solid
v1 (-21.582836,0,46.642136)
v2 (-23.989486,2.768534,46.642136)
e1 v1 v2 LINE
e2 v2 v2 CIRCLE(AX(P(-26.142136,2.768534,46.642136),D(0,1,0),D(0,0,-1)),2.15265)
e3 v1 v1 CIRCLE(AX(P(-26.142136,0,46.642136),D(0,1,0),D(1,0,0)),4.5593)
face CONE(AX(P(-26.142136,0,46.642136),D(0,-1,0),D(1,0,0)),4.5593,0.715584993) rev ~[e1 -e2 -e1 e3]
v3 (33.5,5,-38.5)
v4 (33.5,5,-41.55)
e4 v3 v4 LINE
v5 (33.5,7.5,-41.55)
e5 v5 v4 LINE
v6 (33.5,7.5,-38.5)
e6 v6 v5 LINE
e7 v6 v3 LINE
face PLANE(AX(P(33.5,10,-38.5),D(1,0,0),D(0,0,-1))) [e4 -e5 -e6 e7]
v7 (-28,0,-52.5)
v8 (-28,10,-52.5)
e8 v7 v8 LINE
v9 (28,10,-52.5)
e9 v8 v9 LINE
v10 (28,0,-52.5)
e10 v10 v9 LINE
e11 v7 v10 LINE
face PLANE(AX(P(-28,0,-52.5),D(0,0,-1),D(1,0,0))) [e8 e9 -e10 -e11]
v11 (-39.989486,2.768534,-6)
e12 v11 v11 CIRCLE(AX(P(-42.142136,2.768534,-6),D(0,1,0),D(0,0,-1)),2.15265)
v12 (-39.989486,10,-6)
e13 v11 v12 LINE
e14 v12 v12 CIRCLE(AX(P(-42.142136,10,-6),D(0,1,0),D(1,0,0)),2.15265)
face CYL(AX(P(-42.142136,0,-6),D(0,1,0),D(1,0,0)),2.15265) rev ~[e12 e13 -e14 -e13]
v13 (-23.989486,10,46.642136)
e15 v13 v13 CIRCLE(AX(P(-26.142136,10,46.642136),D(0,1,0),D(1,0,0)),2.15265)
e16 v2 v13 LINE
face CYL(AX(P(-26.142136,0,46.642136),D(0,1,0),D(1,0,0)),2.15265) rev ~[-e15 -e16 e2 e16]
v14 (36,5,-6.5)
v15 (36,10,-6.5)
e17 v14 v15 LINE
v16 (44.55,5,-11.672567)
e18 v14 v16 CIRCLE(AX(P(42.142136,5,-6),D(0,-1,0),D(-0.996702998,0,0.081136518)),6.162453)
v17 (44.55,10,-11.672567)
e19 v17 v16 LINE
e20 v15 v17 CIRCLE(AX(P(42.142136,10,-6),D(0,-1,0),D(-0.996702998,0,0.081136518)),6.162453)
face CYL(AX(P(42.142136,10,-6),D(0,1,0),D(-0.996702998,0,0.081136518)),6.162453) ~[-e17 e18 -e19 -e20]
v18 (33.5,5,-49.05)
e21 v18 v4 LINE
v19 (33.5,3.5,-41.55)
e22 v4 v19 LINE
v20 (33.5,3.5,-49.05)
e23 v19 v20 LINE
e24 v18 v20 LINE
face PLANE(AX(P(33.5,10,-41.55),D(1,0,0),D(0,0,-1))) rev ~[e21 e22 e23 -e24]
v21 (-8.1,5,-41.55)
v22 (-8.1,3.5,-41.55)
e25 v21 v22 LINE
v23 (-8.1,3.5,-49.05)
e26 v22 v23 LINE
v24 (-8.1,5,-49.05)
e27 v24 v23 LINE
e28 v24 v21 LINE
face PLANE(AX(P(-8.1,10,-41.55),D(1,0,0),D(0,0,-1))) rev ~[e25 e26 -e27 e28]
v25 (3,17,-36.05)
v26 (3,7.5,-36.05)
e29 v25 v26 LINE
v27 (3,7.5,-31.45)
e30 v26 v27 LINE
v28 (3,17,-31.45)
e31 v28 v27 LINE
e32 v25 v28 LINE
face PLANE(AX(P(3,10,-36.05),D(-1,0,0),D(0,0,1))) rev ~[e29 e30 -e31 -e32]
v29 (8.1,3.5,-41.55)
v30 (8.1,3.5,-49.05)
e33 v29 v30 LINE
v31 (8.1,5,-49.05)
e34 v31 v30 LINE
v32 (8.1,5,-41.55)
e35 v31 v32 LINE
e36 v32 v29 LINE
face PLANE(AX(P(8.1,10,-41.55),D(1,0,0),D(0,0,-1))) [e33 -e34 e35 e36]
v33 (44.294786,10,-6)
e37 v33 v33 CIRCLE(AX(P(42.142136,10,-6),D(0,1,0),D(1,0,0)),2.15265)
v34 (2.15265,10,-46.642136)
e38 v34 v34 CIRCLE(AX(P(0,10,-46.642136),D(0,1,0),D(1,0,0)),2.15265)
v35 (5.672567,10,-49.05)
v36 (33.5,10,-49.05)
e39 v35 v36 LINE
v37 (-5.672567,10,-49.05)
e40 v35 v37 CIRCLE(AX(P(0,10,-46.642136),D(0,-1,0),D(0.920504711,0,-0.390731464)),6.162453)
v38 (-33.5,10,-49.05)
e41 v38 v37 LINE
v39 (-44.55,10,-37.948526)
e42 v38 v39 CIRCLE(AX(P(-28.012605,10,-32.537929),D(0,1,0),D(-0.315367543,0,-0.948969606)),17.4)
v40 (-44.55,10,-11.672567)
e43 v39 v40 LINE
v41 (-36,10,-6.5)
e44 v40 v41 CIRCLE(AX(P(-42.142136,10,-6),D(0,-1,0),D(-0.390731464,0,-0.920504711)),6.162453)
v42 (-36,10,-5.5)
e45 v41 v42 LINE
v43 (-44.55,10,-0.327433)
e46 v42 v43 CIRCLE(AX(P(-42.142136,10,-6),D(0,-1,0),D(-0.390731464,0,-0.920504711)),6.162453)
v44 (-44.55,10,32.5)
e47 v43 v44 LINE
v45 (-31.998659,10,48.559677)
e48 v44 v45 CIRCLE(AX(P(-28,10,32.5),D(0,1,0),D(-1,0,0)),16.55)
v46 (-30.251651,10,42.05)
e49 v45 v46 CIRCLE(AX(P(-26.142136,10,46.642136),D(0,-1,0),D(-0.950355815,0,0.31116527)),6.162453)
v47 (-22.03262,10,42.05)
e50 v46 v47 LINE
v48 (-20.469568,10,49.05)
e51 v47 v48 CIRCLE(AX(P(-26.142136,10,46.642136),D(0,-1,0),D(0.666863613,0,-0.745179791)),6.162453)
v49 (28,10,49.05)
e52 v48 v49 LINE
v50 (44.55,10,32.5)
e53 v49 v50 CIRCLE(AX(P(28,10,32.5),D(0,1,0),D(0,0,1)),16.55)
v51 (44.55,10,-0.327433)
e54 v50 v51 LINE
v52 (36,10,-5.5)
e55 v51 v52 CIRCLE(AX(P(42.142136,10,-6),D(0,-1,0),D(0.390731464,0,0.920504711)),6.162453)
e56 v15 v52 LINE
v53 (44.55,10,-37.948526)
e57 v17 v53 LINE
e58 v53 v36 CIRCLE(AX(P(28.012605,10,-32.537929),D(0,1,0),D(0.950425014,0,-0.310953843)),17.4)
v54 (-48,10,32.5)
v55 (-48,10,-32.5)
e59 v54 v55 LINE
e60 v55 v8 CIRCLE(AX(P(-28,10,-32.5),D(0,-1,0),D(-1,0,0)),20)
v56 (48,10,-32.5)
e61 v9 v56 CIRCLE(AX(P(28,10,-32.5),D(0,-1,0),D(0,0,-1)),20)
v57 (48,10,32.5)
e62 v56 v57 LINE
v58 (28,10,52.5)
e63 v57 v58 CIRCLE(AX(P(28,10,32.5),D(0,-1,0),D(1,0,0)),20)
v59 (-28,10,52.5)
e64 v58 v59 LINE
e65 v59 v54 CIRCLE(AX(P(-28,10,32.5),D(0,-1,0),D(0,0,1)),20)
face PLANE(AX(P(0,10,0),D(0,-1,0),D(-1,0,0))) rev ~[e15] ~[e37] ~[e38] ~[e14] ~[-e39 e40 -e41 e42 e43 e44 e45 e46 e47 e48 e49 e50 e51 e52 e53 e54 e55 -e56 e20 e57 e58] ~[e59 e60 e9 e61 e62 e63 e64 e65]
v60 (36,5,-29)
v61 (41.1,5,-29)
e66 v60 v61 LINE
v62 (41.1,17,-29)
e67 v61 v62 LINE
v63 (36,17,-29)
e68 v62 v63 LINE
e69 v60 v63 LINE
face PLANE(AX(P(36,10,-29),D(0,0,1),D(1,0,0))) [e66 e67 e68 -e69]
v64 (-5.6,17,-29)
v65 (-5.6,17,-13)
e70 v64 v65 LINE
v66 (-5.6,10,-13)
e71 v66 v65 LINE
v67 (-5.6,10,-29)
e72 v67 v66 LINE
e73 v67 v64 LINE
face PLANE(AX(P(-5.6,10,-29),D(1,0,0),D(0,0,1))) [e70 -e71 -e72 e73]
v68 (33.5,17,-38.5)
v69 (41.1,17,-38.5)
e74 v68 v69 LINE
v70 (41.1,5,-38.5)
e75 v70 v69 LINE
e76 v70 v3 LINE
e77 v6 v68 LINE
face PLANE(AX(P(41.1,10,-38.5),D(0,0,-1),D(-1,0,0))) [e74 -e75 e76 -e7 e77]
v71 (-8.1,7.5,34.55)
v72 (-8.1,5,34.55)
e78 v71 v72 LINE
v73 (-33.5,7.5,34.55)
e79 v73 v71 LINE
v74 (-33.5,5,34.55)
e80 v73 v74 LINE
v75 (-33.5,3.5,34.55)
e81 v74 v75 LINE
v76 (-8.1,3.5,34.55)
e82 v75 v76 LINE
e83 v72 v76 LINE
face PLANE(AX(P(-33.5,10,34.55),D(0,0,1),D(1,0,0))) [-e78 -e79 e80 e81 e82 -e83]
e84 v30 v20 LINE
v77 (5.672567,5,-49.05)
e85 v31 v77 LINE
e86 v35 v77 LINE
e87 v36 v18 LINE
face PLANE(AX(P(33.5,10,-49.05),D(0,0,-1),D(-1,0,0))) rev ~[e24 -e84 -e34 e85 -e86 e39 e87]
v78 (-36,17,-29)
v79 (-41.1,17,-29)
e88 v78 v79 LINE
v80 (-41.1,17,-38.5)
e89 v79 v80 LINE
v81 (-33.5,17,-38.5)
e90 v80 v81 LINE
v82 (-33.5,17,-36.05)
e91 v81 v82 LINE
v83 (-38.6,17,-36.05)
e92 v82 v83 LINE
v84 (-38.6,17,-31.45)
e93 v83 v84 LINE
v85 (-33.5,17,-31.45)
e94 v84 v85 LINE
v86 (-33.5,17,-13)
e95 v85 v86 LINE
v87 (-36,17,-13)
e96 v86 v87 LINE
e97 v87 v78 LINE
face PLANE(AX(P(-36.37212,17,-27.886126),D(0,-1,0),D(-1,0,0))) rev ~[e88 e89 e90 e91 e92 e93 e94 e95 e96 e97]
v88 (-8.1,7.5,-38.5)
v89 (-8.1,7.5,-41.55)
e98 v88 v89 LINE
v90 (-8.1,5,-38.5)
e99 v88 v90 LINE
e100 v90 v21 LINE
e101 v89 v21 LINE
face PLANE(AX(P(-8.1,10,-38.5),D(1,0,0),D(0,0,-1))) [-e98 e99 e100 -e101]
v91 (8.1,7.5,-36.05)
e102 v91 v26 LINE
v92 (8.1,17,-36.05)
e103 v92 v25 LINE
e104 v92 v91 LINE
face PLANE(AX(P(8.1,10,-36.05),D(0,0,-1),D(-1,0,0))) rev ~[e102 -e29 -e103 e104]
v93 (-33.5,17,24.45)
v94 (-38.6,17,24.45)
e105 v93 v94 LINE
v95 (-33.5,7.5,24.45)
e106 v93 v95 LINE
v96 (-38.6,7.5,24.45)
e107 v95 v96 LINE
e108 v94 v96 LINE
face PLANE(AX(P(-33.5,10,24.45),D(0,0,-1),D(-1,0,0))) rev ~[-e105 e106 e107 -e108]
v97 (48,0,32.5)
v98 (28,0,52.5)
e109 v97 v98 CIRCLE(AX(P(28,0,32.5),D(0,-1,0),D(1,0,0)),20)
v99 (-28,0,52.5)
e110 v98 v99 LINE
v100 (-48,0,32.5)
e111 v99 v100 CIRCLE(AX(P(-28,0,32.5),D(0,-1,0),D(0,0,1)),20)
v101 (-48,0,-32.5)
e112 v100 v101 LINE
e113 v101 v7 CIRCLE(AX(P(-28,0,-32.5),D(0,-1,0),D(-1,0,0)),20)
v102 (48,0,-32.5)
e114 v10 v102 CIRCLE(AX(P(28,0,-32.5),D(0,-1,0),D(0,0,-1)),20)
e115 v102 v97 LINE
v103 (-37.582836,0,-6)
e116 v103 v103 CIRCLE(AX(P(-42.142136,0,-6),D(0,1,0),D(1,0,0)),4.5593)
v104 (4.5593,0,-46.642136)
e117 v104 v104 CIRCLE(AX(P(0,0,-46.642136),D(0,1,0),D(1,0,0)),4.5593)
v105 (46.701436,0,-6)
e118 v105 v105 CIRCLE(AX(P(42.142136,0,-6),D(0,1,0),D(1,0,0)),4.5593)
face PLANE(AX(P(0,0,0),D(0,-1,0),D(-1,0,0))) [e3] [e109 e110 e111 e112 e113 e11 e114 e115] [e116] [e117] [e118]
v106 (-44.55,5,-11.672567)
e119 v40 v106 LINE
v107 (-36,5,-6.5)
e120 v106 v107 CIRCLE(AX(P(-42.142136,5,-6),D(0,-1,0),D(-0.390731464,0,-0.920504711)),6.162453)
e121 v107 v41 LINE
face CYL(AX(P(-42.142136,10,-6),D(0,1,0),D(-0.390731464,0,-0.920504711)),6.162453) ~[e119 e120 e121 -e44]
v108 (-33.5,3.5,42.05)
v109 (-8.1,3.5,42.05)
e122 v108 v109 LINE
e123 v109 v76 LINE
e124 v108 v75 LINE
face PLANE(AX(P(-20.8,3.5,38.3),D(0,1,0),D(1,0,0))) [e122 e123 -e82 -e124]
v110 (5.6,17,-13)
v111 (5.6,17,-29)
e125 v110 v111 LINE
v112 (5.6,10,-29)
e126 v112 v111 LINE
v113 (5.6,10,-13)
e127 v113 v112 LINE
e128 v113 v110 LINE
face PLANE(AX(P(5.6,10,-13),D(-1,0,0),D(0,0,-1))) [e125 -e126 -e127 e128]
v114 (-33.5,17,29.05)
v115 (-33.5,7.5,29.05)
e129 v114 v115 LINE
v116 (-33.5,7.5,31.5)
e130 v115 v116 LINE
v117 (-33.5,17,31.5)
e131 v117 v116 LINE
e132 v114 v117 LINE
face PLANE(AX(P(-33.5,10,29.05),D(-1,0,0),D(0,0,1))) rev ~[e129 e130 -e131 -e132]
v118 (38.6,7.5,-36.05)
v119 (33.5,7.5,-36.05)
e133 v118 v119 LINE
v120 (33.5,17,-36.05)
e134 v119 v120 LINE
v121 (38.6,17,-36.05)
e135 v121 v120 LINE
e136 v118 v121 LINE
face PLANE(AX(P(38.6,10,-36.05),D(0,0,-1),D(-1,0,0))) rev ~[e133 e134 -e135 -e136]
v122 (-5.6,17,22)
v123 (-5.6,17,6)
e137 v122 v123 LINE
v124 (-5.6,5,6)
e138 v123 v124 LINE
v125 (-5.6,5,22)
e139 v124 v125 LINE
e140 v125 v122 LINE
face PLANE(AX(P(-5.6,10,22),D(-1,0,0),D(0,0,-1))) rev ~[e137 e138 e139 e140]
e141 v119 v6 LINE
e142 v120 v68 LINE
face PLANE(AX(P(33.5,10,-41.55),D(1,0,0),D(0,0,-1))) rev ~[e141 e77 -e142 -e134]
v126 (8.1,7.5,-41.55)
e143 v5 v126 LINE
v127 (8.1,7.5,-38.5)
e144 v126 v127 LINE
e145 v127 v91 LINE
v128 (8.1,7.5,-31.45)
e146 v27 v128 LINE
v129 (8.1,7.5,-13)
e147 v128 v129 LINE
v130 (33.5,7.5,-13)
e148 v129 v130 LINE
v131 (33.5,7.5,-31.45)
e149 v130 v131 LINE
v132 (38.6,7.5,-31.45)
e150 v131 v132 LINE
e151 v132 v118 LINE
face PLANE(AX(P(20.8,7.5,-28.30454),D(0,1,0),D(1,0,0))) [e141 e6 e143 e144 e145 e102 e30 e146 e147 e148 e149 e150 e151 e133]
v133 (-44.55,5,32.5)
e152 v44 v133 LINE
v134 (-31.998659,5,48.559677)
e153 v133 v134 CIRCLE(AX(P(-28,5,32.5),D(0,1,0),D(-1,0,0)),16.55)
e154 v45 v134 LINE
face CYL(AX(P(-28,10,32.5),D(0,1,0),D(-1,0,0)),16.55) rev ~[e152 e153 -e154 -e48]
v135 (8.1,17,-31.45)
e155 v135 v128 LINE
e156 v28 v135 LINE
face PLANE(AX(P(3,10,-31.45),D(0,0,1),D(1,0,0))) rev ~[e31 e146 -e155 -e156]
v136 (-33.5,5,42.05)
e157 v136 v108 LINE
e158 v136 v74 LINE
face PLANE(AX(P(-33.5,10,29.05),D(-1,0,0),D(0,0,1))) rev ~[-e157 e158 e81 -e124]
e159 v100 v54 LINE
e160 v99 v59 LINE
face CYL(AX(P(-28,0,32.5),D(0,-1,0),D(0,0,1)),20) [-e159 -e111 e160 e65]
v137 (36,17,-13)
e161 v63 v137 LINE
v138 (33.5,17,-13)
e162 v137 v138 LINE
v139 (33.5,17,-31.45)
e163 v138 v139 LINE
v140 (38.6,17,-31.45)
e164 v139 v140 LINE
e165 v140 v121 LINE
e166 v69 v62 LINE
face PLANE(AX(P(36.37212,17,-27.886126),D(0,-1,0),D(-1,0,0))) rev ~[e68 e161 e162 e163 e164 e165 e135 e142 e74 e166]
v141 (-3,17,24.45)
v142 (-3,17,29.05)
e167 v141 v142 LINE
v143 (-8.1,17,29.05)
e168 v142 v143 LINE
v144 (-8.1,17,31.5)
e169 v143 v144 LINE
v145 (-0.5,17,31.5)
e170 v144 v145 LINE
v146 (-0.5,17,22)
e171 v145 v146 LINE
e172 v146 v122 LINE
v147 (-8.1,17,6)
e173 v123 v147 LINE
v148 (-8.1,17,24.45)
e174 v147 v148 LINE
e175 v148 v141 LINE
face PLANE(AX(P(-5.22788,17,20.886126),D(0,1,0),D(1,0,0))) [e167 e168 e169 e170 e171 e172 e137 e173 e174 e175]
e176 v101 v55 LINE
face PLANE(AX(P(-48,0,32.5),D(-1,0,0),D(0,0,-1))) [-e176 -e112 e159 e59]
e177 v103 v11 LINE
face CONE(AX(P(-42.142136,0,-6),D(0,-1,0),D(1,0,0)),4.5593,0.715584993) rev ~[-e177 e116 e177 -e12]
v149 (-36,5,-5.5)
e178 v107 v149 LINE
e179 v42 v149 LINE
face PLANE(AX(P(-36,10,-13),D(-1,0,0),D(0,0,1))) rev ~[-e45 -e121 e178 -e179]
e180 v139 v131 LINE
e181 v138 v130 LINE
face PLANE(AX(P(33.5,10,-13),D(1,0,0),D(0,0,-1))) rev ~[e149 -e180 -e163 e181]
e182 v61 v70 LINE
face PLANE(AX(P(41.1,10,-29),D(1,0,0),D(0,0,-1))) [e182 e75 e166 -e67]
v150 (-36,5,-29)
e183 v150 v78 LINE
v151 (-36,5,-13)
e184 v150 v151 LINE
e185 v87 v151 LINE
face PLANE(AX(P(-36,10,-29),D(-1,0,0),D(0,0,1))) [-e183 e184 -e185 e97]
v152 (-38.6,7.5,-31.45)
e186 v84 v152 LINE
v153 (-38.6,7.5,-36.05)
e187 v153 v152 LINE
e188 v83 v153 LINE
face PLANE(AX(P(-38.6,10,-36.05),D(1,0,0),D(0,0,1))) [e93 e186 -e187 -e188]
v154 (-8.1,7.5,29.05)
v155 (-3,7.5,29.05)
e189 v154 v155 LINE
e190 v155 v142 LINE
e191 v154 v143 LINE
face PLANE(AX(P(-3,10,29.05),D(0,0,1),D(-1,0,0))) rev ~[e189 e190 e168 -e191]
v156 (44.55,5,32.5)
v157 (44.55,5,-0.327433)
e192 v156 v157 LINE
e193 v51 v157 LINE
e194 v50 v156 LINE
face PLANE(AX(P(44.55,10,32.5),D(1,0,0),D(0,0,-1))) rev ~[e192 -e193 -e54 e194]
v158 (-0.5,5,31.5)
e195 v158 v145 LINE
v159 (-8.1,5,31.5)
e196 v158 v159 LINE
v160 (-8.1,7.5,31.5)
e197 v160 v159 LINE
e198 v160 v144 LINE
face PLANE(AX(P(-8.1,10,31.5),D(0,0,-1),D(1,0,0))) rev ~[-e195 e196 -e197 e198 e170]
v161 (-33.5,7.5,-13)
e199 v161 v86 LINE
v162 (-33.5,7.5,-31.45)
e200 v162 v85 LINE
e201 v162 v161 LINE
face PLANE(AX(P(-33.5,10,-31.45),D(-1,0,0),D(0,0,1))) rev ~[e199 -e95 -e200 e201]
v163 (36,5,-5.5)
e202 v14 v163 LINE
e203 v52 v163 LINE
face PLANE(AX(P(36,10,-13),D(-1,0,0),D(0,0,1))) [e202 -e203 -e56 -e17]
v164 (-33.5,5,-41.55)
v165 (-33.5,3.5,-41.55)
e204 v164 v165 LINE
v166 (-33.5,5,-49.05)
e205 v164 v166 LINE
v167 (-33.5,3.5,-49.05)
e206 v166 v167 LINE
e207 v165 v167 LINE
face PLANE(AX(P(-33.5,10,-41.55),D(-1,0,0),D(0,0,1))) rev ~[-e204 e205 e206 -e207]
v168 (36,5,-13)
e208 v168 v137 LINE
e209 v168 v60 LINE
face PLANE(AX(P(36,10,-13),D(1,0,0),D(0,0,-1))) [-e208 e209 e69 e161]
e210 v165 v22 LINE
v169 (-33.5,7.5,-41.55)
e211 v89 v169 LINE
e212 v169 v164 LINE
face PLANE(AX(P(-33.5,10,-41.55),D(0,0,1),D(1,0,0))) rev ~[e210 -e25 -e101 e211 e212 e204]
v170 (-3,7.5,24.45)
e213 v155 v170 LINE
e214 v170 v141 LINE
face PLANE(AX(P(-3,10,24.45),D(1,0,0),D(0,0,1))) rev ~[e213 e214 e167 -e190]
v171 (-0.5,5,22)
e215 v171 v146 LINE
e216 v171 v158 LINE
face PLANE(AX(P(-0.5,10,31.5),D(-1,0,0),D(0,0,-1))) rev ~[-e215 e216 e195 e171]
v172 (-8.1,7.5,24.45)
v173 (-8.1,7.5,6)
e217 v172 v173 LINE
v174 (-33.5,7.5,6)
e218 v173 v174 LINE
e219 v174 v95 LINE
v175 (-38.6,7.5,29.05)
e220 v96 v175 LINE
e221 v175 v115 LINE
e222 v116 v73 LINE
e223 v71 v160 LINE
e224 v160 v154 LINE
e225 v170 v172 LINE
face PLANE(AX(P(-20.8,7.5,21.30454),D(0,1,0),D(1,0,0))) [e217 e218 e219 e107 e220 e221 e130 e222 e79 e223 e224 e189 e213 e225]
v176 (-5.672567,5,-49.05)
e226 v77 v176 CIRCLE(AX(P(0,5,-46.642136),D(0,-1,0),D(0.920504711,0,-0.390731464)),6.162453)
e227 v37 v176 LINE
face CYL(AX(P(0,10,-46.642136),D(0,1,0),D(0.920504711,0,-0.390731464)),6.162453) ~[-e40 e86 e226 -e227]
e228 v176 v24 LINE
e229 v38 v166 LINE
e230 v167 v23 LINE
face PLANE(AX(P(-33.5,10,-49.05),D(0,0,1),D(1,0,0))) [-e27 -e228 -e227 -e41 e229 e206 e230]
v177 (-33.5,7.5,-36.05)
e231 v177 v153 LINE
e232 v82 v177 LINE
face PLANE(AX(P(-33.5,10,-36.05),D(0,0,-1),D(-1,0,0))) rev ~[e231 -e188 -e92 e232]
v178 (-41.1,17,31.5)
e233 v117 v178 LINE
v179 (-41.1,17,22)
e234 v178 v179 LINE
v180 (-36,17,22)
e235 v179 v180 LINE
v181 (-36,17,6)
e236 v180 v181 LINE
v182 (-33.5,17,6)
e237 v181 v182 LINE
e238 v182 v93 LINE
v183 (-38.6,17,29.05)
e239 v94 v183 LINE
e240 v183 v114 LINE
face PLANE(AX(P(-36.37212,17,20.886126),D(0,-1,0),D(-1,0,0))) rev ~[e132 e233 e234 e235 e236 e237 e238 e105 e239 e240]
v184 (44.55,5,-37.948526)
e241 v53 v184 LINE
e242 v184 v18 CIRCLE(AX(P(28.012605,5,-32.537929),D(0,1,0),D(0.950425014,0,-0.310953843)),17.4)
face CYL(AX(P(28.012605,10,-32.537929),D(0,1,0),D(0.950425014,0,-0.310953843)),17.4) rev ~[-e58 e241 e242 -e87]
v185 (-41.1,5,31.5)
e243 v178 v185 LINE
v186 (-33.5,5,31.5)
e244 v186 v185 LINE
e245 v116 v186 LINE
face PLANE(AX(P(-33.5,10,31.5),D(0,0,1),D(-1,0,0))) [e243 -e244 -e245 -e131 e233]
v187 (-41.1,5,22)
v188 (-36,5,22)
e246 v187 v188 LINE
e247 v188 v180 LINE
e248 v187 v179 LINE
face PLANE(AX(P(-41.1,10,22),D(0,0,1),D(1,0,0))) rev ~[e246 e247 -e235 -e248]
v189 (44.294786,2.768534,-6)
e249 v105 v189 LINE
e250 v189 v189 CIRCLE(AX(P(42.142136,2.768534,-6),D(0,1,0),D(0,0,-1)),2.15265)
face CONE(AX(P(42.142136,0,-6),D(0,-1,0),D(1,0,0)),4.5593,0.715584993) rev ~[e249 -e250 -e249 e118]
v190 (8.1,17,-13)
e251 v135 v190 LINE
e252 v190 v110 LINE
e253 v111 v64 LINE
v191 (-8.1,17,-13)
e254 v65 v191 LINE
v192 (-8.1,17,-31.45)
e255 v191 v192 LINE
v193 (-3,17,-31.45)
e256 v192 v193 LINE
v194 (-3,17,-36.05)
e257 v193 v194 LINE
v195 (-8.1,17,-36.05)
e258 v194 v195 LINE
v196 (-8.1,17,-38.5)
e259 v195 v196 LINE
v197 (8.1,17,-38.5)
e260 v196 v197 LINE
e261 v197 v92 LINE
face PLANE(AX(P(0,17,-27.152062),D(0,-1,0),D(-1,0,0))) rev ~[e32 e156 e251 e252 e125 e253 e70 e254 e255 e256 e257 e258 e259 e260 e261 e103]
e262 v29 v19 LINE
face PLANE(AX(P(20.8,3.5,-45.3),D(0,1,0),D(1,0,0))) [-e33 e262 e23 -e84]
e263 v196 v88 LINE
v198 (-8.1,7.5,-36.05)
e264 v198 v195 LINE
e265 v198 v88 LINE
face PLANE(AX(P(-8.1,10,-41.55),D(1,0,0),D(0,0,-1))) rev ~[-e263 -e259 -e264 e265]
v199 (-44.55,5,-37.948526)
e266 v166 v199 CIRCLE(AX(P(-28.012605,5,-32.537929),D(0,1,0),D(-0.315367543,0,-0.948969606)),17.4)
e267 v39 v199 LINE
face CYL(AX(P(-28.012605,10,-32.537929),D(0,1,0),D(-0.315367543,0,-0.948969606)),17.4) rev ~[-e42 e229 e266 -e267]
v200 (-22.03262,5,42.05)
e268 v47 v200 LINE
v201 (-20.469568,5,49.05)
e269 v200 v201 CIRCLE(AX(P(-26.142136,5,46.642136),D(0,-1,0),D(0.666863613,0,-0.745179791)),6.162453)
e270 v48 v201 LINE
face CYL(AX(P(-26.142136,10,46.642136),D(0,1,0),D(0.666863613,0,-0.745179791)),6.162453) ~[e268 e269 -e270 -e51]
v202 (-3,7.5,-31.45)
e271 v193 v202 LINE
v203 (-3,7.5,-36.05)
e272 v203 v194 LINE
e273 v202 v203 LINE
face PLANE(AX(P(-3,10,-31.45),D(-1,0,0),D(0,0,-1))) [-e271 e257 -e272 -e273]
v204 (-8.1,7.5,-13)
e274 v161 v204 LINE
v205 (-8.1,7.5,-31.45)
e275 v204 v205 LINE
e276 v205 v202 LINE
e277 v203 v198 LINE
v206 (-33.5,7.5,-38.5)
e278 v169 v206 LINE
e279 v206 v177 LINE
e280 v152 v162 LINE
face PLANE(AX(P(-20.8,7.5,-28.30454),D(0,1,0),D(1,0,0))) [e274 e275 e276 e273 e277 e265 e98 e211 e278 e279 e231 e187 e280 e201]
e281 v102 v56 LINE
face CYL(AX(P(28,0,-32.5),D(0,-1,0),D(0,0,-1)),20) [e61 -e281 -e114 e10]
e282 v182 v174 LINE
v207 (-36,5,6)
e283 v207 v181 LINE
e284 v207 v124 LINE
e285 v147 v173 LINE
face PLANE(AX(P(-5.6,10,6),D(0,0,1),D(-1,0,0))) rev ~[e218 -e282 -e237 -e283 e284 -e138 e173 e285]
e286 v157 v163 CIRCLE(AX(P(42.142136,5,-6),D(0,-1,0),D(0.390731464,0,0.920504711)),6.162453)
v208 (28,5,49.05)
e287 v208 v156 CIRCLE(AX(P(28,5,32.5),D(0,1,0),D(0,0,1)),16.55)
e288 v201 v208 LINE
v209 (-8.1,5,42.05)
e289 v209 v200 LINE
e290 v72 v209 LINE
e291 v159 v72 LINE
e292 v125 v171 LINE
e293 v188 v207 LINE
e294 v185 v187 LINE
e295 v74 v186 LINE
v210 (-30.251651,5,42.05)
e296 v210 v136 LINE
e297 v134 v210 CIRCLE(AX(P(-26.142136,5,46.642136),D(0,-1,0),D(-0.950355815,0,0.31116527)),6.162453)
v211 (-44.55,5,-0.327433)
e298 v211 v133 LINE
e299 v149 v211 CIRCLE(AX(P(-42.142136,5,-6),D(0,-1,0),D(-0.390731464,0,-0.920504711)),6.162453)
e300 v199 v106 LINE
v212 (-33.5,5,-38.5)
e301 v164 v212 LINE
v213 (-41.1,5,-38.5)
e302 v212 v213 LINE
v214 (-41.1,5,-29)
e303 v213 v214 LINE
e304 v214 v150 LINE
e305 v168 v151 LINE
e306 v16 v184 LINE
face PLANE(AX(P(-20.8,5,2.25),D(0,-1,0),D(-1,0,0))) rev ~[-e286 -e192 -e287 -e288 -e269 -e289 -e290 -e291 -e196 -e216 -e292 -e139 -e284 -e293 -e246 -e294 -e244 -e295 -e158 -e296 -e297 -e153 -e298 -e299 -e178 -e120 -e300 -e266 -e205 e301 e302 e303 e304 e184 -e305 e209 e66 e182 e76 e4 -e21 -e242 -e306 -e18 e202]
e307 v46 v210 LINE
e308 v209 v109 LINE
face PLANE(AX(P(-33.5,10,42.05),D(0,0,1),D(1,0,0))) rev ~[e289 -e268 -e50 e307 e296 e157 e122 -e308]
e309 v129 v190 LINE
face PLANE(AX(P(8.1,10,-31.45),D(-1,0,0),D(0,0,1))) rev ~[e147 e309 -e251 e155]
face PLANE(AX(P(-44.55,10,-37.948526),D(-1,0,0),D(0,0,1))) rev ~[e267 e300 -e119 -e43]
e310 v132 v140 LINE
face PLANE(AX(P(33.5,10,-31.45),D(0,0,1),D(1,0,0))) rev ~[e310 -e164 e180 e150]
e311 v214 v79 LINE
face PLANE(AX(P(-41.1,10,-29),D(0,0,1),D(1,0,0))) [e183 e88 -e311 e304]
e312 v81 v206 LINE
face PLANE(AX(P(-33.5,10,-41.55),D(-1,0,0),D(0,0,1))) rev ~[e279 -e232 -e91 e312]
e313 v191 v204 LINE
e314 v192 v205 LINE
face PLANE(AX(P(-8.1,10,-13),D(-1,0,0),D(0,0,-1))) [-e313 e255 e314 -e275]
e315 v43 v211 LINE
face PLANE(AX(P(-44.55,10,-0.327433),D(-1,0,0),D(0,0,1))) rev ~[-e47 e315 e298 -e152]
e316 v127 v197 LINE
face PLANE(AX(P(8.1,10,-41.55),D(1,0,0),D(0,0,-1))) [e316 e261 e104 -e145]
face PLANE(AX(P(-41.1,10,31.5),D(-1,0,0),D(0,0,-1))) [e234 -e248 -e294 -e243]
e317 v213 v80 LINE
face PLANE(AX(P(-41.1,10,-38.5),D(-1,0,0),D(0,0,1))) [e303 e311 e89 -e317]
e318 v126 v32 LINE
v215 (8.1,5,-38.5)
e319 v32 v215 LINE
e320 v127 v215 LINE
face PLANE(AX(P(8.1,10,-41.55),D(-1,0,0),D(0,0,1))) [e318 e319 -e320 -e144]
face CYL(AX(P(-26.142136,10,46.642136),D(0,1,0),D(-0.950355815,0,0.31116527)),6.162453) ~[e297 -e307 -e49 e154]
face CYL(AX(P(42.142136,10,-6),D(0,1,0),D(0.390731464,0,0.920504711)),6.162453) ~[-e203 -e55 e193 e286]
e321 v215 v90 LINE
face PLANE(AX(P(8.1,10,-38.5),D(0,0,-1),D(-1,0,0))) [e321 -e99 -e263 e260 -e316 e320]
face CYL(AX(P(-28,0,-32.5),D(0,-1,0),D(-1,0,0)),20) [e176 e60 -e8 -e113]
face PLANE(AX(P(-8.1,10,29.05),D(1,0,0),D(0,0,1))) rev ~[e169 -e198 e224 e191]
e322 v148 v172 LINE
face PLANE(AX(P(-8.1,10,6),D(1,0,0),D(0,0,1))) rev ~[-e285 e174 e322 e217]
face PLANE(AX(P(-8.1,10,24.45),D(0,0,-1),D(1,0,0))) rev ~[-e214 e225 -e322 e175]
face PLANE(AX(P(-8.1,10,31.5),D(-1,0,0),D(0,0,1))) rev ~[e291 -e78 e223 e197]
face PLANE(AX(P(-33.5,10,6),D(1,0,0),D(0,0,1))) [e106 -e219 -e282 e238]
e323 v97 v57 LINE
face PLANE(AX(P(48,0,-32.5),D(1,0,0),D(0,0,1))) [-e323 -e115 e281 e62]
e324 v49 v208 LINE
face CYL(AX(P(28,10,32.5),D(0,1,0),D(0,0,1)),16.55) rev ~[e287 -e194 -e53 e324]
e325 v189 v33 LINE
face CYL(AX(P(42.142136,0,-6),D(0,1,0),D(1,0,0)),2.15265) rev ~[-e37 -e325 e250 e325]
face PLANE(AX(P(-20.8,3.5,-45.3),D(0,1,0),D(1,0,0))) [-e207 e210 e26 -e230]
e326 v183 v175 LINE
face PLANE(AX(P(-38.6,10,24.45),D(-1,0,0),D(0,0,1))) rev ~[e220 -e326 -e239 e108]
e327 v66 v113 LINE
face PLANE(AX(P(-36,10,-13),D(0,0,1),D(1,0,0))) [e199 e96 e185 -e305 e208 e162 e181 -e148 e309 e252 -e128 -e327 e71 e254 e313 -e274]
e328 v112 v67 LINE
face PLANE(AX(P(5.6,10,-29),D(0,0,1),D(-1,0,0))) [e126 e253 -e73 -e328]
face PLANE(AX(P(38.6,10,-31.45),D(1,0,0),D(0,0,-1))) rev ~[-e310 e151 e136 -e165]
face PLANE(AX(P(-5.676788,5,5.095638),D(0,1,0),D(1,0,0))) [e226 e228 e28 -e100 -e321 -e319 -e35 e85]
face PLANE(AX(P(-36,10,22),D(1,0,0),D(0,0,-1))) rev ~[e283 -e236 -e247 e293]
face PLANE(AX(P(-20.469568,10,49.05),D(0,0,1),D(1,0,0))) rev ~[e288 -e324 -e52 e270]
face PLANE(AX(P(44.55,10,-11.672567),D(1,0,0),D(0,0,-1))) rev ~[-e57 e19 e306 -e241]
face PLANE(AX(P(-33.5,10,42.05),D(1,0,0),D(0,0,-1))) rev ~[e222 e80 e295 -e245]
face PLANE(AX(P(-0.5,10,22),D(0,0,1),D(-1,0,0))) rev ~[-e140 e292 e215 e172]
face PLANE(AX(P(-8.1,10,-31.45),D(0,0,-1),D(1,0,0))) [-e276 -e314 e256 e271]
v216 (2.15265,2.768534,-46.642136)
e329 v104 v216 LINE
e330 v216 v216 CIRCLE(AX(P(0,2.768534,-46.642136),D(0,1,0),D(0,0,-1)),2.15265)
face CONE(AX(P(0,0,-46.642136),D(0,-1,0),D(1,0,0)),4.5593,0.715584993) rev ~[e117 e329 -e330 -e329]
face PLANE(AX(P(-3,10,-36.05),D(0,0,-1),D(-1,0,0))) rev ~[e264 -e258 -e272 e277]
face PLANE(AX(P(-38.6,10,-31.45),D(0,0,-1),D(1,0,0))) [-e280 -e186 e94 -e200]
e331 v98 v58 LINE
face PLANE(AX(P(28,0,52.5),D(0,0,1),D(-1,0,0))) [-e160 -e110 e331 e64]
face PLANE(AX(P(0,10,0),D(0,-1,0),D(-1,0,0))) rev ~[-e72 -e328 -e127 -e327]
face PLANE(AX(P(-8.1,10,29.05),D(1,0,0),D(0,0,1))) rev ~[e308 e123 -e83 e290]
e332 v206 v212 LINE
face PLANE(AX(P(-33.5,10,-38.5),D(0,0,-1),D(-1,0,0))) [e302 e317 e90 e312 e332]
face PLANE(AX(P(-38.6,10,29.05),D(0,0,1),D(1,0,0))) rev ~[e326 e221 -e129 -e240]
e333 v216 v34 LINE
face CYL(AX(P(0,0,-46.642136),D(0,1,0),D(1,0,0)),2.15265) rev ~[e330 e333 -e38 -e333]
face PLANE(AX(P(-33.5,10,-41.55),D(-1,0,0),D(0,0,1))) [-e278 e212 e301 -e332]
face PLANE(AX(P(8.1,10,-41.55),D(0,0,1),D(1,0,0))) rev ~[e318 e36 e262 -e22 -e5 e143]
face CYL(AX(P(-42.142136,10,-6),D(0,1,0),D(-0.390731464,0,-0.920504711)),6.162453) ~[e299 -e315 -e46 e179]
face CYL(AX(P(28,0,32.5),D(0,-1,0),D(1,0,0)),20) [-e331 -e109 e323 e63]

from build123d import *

# Parameters (mm, degrees)
BASE_DEPTH                                        = 10
HOLE_FOR_ACTUATOR_COVERS_DEPTH                    = 5
SIDE_CLAMPS_DEPTH                                 = 7
SKETCH14_W                                        = 25.4
SKETCH14_H                                        = 7.5
PULLEY_CLEARANCES_DEPTH                           = 6.5
CSK_FOR_8_FLAT_HEAD_SOCKET_CAP_SCREW1_D           = 4.3053
CSK_FOR_8_FLAT_HEAD_SOCKET_CAP_SCREW1_CSINK_D     = 9.1186
CSK_FOR_8_FLAT_HEAD_SOCKET_CAP_SCREW1_CSINK_ANGLE = 82
ACTUATOR_GROOVE_DEPTH                             = 2.5
MATERIAL_CUTAWAY_DEPTH                            = 5


with BuildPart() as part:
    # Sketch1 → base (new body)
    with BuildSketch(Plane(origin=(0, 0, 0), x_dir=(1, 0, 0), z_dir=(0, 1, 0))):
        with BuildLine():
            Line((-28, 52.5), (28, 52.5))
            ThreePointArc((28, 52.5), (42.142135624, 46.642135624), (48, 32.5))
            Line((48, 32.5), (48, -32.5))
            ThreePointArc((48, -32.5), (42.142135624, -46.642135624), (28, -52.5))
            Line((28, -52.5), (-28, -52.5))
            ThreePointArc((-28, -52.5), (-42.142135624, -46.642135624), (-48, -32.5))
            Line((-48, -32.5), (-48, 32.5))
            ThreePointArc((-48, 32.5), (-42.142135624, 46.642135624), (-28, 52.5))
        make_face()
    extrude(amount=BASE_DEPTH)

    # Sketch10 → hole for actuator covers (cut)
    with BuildSketch(Plane(origin=(0, 10, 0), x_dir=(1, 0, 0), z_dir=(0, 1, 0))):
        Polygon((-5.6, 5.5), (-5.6, 13), (-8.6, 13), (-33, 13), (-36, 13), (-36, 5.5), align=None)
        Polygon((33, 13), (36, 13), (36, 5.5), (5.6, 5.5), (5.6, 13), (8.6, 13), align=None)
        Polygon((-5.6, -6), (-8.6, -6), (-33, -6), (-36, -6), (-36, 1.5), (-5.6, 1.5), align=None)
    extrude(amount=-HOLE_FOR_ACTUATOR_COVERS_DEPTH, mode=Mode.SUBTRACT)

    # Sketch13 → side clamps (add)
    with BuildSketch(Plane(origin=(0, 10, 0), x_dir=(1, 0, 0), z_dir=(0, 1, 0))):
        Polygon((-8.1, -24.45), (-3, -24.45), (-3, -29.05), (-8.1, -29.05), (-8.1, -31.5), (-0.5, -31.5), (-0.5, -22), (-5.6, -22), (-5.6, -6), (-8.1, -6), align=None)
        Polygon((-41.1, 29), (-41.1, 38.5), (-33.5, 38.5), (-33.5, 36.05), (-38.6, 36.05), (-38.6, 31.45), (-33.5, 31.45), (-33.5, 13), (-36, 13), (-36, 29), align=None)
        Polygon((-8.1, 13), (-8.1, 31.45), (-3, 31.45), (-3, 36.05), (-8.1, 36.05), (-8.1, 38.5), (8.1, 38.5), (8.1, 36.05), (3, 36.05), (3, 31.45), (8.1, 31.45), (8.1, 13), (5.6, 13), (5.6, 29), (-5.6, 29), (-5.6, 13), align=None)
        Polygon((33.5, 13), (33.5, 31.45), (38.6, 31.45), (38.6, 36.05), (33.5, 36.05), (33.5, 38.5), (41.1, 38.5), (41.1, 29), (36, 29), (36, 13), align=None)
        Polygon((-38.6, -24.45), (-38.6, -29.05), (-33.5, -29.05), (-33.5, -31.5), (-41.1, -31.5), (-41.1, -22), (-36, -22), (-36, -6), (-33.5, -6), (-33.5, -24.45), align=None)
    extrude(amount=SIDE_CLAMPS_DEPTH)

    # Sketch14 → pulley clearances (cut)
    with BuildSketch(Plane(origin=(0, 10, 0), x_dir=(1, 0, 0), z_dir=(0, 1, 0))):
        with Locations((-20.8, -38.3)):
            Rectangle(SKETCH14_W, SKETCH14_H)
        with Locations((-20.8, 45.3)):
            Rectangle(SKETCH14_W, SKETCH14_H)
        with Locations((20.8, 45.3)):
            Rectangle(SKETCH14_W, SKETCH14_H)
    extrude(amount=-PULLEY_CLEARANCES_DEPTH, mode=Mode.SUBTRACT)

    # CSK for #8 Flat Head Socket Cap Screw1 (through all)
    with Locations(Plane(origin=(0, 0, 0), x_dir=(-1, 0, 0), z_dir=(0, -1, 0))):
        with Locations((26.142135624, -46.642135624), (42.142135624, 6), (0, 46.642135624), (-42.142135624, 6)):
            CounterSinkHole(CSK_FOR_8_FLAT_HEAD_SOCKET_CAP_SCREW1_D / 2, CSK_FOR_8_FLAT_HEAD_SOCKET_CAP_SCREW1_CSINK_D / 2, counter_sink_angle=CSK_FOR_8_FLAT_HEAD_SOCKET_CAP_SCREW1_CSINK_ANGLE)

    # Sketch18 → actuator groove (cut)
    with BuildSketch(Plane(origin=(0, 10, 0), x_dir=(1, 0, 0), z_dir=(0, 1, 0))):
        Polygon((-33.5, 31.45), (-33.5, 13), (-8.1, 13), (-8.1, 31.45), (-3, 31.45), (-3, 36.05), (-8.1, 36.05), (-8.1, 41.55), (-33.5, 41.55), (-33.5, 36.05), (-38.6, 36.05), (-38.6, 31.45), align=None)
        Polygon((38.6, 31.45), (38.6, 36.05), (33.5, 36.05), (33.5, 41.55), (8.1, 41.55), (8.1, 36.05), (3, 36.05), (3, 31.45), (8.1, 31.45), (8.1, 13), (33.5, 13), (33.5, 31.45), align=None)
        Polygon((-33.5, -6), (-33.5, -24.45), (-38.6, -24.45), (-38.6, -29.05), (-33.5, -29.05), (-33.5, -34.55), (-8.1, -34.55), (-8.1, -29.05), (-3, -29.05), (-3, -24.45), (-8.1, -24.45), (-8.1, -6), align=None)
    extrude(amount=-ACTUATOR_GROOVE_DEPTH, mode=Mode.SUBTRACT)

    # Sketch20 → material cutaway (cut)
    with BuildSketch(Plane(origin=(0, 10, 0), x_dir=(1, 0, 0), z_dir=(0, 1, 0))):
        with BuildLine():
            Line((-36, -6), (-5.6, -6))
            Line((-5.6, -6), (-5.6, -22))
            Line((-5.6, -22), (-0.5, -22))
            Line((-0.5, -22), (-0.5, -31.5))
            Line((-0.5, -31.5), (-8.1, -31.5))
            Line((-8.1, -31.5), (-8.1, -42.05))
            Line((-8.1, -42.05), (-22.032619784, -42.05))
            ThreePointArc((-22.032619784, -42.05), (-20.127795479, -45.29917522), (-20.469568377, -49.05))
            Line((-20.469568377, -49.05), (28, -49.05))
            ThreePointArc((28, -49.05), (39.702617229, -44.202617229), (44.55, -32.5))
            Line((44.55, -32.5), (44.55, 0.327432754))
            ThreePointArc((44.55, 0.327432754), (38.952298885, 0.727356298), (36, 5.5))
            ThreePointArc((36, 5.5), (38.535011833, 10.996447536), (44.55, 11.672567246))
            Line((44.55, 11.672567246), (44.55, 37.948525732))
            ThreePointArc((44.55, 37.948525732), (40.344819956, 44.812963205), (33.5, 49.05))
            Line((33.5, 49.05), (8.1, 49.05))
            Line((8.1, 49.05), (5.672567246, 49.05))
            ThreePointArc((5.672567246, 49.05), (0, 40.479682377), (-5.672567246, 49.05))
            Line((-5.672567246, 49.05), (-8.1, 49.05))
            Line((-8.1, 49.05), (-33.5, 49.05))
            ThreePointArc((-33.5, 49.05), (-40.344819956, 44.812963205), (-44.55, 37.948525732))
            Line((-44.55, 37.948525732), (-44.55, 11.672567246))
            ThreePointArc((-44.55, 11.672567246), (-35.979682377, 6), (-44.55, 0.327432754))
            Line((-44.55, 0.327432754), (-44.55, -32.5))
            ThreePointArc((-44.55, -32.5), (-41.039944494, -42.691287828), (-31.998658901, -48.559677051))
            ThreePointArc((-31.998658901, -48.559677051), (-32.093980526, -45.044834063), (-30.251651463, -42.05))
            Line((-30.251651463, -42.05), (-33.5, -42.05))
            Line((-33.5, -42.05), (-33.5, -31.5))
            Line((-33.5, -31.5), (-41.1, -31.5))
            Line((-41.1, -31.5), (-41.1, -22))
            Line((-41.1, -22), (-36, -22))
            Line((-36, -22), (-36, -6))
        make_face()
        Polygon((-8.1, 38.5), (-8.1, 41.55), (-33.5, 41.55), (-33.5, 38.5), (-41.1, 38.5), (-41.1, 29), (-36, 29), (-36, 13), (36, 13), (36, 29), (41.1, 29), (41.1, 38.5), (33.5, 38.5), (33.5, 41.55), (8.1, 41.55), (8.1, 38.5), align=None, mode=Mode.SUBTRACT)
    extrude(amount=-MATERIAL_CUTAWAY_DEPTH, mode=Mode.SUBTRACT)


solid = part.part
